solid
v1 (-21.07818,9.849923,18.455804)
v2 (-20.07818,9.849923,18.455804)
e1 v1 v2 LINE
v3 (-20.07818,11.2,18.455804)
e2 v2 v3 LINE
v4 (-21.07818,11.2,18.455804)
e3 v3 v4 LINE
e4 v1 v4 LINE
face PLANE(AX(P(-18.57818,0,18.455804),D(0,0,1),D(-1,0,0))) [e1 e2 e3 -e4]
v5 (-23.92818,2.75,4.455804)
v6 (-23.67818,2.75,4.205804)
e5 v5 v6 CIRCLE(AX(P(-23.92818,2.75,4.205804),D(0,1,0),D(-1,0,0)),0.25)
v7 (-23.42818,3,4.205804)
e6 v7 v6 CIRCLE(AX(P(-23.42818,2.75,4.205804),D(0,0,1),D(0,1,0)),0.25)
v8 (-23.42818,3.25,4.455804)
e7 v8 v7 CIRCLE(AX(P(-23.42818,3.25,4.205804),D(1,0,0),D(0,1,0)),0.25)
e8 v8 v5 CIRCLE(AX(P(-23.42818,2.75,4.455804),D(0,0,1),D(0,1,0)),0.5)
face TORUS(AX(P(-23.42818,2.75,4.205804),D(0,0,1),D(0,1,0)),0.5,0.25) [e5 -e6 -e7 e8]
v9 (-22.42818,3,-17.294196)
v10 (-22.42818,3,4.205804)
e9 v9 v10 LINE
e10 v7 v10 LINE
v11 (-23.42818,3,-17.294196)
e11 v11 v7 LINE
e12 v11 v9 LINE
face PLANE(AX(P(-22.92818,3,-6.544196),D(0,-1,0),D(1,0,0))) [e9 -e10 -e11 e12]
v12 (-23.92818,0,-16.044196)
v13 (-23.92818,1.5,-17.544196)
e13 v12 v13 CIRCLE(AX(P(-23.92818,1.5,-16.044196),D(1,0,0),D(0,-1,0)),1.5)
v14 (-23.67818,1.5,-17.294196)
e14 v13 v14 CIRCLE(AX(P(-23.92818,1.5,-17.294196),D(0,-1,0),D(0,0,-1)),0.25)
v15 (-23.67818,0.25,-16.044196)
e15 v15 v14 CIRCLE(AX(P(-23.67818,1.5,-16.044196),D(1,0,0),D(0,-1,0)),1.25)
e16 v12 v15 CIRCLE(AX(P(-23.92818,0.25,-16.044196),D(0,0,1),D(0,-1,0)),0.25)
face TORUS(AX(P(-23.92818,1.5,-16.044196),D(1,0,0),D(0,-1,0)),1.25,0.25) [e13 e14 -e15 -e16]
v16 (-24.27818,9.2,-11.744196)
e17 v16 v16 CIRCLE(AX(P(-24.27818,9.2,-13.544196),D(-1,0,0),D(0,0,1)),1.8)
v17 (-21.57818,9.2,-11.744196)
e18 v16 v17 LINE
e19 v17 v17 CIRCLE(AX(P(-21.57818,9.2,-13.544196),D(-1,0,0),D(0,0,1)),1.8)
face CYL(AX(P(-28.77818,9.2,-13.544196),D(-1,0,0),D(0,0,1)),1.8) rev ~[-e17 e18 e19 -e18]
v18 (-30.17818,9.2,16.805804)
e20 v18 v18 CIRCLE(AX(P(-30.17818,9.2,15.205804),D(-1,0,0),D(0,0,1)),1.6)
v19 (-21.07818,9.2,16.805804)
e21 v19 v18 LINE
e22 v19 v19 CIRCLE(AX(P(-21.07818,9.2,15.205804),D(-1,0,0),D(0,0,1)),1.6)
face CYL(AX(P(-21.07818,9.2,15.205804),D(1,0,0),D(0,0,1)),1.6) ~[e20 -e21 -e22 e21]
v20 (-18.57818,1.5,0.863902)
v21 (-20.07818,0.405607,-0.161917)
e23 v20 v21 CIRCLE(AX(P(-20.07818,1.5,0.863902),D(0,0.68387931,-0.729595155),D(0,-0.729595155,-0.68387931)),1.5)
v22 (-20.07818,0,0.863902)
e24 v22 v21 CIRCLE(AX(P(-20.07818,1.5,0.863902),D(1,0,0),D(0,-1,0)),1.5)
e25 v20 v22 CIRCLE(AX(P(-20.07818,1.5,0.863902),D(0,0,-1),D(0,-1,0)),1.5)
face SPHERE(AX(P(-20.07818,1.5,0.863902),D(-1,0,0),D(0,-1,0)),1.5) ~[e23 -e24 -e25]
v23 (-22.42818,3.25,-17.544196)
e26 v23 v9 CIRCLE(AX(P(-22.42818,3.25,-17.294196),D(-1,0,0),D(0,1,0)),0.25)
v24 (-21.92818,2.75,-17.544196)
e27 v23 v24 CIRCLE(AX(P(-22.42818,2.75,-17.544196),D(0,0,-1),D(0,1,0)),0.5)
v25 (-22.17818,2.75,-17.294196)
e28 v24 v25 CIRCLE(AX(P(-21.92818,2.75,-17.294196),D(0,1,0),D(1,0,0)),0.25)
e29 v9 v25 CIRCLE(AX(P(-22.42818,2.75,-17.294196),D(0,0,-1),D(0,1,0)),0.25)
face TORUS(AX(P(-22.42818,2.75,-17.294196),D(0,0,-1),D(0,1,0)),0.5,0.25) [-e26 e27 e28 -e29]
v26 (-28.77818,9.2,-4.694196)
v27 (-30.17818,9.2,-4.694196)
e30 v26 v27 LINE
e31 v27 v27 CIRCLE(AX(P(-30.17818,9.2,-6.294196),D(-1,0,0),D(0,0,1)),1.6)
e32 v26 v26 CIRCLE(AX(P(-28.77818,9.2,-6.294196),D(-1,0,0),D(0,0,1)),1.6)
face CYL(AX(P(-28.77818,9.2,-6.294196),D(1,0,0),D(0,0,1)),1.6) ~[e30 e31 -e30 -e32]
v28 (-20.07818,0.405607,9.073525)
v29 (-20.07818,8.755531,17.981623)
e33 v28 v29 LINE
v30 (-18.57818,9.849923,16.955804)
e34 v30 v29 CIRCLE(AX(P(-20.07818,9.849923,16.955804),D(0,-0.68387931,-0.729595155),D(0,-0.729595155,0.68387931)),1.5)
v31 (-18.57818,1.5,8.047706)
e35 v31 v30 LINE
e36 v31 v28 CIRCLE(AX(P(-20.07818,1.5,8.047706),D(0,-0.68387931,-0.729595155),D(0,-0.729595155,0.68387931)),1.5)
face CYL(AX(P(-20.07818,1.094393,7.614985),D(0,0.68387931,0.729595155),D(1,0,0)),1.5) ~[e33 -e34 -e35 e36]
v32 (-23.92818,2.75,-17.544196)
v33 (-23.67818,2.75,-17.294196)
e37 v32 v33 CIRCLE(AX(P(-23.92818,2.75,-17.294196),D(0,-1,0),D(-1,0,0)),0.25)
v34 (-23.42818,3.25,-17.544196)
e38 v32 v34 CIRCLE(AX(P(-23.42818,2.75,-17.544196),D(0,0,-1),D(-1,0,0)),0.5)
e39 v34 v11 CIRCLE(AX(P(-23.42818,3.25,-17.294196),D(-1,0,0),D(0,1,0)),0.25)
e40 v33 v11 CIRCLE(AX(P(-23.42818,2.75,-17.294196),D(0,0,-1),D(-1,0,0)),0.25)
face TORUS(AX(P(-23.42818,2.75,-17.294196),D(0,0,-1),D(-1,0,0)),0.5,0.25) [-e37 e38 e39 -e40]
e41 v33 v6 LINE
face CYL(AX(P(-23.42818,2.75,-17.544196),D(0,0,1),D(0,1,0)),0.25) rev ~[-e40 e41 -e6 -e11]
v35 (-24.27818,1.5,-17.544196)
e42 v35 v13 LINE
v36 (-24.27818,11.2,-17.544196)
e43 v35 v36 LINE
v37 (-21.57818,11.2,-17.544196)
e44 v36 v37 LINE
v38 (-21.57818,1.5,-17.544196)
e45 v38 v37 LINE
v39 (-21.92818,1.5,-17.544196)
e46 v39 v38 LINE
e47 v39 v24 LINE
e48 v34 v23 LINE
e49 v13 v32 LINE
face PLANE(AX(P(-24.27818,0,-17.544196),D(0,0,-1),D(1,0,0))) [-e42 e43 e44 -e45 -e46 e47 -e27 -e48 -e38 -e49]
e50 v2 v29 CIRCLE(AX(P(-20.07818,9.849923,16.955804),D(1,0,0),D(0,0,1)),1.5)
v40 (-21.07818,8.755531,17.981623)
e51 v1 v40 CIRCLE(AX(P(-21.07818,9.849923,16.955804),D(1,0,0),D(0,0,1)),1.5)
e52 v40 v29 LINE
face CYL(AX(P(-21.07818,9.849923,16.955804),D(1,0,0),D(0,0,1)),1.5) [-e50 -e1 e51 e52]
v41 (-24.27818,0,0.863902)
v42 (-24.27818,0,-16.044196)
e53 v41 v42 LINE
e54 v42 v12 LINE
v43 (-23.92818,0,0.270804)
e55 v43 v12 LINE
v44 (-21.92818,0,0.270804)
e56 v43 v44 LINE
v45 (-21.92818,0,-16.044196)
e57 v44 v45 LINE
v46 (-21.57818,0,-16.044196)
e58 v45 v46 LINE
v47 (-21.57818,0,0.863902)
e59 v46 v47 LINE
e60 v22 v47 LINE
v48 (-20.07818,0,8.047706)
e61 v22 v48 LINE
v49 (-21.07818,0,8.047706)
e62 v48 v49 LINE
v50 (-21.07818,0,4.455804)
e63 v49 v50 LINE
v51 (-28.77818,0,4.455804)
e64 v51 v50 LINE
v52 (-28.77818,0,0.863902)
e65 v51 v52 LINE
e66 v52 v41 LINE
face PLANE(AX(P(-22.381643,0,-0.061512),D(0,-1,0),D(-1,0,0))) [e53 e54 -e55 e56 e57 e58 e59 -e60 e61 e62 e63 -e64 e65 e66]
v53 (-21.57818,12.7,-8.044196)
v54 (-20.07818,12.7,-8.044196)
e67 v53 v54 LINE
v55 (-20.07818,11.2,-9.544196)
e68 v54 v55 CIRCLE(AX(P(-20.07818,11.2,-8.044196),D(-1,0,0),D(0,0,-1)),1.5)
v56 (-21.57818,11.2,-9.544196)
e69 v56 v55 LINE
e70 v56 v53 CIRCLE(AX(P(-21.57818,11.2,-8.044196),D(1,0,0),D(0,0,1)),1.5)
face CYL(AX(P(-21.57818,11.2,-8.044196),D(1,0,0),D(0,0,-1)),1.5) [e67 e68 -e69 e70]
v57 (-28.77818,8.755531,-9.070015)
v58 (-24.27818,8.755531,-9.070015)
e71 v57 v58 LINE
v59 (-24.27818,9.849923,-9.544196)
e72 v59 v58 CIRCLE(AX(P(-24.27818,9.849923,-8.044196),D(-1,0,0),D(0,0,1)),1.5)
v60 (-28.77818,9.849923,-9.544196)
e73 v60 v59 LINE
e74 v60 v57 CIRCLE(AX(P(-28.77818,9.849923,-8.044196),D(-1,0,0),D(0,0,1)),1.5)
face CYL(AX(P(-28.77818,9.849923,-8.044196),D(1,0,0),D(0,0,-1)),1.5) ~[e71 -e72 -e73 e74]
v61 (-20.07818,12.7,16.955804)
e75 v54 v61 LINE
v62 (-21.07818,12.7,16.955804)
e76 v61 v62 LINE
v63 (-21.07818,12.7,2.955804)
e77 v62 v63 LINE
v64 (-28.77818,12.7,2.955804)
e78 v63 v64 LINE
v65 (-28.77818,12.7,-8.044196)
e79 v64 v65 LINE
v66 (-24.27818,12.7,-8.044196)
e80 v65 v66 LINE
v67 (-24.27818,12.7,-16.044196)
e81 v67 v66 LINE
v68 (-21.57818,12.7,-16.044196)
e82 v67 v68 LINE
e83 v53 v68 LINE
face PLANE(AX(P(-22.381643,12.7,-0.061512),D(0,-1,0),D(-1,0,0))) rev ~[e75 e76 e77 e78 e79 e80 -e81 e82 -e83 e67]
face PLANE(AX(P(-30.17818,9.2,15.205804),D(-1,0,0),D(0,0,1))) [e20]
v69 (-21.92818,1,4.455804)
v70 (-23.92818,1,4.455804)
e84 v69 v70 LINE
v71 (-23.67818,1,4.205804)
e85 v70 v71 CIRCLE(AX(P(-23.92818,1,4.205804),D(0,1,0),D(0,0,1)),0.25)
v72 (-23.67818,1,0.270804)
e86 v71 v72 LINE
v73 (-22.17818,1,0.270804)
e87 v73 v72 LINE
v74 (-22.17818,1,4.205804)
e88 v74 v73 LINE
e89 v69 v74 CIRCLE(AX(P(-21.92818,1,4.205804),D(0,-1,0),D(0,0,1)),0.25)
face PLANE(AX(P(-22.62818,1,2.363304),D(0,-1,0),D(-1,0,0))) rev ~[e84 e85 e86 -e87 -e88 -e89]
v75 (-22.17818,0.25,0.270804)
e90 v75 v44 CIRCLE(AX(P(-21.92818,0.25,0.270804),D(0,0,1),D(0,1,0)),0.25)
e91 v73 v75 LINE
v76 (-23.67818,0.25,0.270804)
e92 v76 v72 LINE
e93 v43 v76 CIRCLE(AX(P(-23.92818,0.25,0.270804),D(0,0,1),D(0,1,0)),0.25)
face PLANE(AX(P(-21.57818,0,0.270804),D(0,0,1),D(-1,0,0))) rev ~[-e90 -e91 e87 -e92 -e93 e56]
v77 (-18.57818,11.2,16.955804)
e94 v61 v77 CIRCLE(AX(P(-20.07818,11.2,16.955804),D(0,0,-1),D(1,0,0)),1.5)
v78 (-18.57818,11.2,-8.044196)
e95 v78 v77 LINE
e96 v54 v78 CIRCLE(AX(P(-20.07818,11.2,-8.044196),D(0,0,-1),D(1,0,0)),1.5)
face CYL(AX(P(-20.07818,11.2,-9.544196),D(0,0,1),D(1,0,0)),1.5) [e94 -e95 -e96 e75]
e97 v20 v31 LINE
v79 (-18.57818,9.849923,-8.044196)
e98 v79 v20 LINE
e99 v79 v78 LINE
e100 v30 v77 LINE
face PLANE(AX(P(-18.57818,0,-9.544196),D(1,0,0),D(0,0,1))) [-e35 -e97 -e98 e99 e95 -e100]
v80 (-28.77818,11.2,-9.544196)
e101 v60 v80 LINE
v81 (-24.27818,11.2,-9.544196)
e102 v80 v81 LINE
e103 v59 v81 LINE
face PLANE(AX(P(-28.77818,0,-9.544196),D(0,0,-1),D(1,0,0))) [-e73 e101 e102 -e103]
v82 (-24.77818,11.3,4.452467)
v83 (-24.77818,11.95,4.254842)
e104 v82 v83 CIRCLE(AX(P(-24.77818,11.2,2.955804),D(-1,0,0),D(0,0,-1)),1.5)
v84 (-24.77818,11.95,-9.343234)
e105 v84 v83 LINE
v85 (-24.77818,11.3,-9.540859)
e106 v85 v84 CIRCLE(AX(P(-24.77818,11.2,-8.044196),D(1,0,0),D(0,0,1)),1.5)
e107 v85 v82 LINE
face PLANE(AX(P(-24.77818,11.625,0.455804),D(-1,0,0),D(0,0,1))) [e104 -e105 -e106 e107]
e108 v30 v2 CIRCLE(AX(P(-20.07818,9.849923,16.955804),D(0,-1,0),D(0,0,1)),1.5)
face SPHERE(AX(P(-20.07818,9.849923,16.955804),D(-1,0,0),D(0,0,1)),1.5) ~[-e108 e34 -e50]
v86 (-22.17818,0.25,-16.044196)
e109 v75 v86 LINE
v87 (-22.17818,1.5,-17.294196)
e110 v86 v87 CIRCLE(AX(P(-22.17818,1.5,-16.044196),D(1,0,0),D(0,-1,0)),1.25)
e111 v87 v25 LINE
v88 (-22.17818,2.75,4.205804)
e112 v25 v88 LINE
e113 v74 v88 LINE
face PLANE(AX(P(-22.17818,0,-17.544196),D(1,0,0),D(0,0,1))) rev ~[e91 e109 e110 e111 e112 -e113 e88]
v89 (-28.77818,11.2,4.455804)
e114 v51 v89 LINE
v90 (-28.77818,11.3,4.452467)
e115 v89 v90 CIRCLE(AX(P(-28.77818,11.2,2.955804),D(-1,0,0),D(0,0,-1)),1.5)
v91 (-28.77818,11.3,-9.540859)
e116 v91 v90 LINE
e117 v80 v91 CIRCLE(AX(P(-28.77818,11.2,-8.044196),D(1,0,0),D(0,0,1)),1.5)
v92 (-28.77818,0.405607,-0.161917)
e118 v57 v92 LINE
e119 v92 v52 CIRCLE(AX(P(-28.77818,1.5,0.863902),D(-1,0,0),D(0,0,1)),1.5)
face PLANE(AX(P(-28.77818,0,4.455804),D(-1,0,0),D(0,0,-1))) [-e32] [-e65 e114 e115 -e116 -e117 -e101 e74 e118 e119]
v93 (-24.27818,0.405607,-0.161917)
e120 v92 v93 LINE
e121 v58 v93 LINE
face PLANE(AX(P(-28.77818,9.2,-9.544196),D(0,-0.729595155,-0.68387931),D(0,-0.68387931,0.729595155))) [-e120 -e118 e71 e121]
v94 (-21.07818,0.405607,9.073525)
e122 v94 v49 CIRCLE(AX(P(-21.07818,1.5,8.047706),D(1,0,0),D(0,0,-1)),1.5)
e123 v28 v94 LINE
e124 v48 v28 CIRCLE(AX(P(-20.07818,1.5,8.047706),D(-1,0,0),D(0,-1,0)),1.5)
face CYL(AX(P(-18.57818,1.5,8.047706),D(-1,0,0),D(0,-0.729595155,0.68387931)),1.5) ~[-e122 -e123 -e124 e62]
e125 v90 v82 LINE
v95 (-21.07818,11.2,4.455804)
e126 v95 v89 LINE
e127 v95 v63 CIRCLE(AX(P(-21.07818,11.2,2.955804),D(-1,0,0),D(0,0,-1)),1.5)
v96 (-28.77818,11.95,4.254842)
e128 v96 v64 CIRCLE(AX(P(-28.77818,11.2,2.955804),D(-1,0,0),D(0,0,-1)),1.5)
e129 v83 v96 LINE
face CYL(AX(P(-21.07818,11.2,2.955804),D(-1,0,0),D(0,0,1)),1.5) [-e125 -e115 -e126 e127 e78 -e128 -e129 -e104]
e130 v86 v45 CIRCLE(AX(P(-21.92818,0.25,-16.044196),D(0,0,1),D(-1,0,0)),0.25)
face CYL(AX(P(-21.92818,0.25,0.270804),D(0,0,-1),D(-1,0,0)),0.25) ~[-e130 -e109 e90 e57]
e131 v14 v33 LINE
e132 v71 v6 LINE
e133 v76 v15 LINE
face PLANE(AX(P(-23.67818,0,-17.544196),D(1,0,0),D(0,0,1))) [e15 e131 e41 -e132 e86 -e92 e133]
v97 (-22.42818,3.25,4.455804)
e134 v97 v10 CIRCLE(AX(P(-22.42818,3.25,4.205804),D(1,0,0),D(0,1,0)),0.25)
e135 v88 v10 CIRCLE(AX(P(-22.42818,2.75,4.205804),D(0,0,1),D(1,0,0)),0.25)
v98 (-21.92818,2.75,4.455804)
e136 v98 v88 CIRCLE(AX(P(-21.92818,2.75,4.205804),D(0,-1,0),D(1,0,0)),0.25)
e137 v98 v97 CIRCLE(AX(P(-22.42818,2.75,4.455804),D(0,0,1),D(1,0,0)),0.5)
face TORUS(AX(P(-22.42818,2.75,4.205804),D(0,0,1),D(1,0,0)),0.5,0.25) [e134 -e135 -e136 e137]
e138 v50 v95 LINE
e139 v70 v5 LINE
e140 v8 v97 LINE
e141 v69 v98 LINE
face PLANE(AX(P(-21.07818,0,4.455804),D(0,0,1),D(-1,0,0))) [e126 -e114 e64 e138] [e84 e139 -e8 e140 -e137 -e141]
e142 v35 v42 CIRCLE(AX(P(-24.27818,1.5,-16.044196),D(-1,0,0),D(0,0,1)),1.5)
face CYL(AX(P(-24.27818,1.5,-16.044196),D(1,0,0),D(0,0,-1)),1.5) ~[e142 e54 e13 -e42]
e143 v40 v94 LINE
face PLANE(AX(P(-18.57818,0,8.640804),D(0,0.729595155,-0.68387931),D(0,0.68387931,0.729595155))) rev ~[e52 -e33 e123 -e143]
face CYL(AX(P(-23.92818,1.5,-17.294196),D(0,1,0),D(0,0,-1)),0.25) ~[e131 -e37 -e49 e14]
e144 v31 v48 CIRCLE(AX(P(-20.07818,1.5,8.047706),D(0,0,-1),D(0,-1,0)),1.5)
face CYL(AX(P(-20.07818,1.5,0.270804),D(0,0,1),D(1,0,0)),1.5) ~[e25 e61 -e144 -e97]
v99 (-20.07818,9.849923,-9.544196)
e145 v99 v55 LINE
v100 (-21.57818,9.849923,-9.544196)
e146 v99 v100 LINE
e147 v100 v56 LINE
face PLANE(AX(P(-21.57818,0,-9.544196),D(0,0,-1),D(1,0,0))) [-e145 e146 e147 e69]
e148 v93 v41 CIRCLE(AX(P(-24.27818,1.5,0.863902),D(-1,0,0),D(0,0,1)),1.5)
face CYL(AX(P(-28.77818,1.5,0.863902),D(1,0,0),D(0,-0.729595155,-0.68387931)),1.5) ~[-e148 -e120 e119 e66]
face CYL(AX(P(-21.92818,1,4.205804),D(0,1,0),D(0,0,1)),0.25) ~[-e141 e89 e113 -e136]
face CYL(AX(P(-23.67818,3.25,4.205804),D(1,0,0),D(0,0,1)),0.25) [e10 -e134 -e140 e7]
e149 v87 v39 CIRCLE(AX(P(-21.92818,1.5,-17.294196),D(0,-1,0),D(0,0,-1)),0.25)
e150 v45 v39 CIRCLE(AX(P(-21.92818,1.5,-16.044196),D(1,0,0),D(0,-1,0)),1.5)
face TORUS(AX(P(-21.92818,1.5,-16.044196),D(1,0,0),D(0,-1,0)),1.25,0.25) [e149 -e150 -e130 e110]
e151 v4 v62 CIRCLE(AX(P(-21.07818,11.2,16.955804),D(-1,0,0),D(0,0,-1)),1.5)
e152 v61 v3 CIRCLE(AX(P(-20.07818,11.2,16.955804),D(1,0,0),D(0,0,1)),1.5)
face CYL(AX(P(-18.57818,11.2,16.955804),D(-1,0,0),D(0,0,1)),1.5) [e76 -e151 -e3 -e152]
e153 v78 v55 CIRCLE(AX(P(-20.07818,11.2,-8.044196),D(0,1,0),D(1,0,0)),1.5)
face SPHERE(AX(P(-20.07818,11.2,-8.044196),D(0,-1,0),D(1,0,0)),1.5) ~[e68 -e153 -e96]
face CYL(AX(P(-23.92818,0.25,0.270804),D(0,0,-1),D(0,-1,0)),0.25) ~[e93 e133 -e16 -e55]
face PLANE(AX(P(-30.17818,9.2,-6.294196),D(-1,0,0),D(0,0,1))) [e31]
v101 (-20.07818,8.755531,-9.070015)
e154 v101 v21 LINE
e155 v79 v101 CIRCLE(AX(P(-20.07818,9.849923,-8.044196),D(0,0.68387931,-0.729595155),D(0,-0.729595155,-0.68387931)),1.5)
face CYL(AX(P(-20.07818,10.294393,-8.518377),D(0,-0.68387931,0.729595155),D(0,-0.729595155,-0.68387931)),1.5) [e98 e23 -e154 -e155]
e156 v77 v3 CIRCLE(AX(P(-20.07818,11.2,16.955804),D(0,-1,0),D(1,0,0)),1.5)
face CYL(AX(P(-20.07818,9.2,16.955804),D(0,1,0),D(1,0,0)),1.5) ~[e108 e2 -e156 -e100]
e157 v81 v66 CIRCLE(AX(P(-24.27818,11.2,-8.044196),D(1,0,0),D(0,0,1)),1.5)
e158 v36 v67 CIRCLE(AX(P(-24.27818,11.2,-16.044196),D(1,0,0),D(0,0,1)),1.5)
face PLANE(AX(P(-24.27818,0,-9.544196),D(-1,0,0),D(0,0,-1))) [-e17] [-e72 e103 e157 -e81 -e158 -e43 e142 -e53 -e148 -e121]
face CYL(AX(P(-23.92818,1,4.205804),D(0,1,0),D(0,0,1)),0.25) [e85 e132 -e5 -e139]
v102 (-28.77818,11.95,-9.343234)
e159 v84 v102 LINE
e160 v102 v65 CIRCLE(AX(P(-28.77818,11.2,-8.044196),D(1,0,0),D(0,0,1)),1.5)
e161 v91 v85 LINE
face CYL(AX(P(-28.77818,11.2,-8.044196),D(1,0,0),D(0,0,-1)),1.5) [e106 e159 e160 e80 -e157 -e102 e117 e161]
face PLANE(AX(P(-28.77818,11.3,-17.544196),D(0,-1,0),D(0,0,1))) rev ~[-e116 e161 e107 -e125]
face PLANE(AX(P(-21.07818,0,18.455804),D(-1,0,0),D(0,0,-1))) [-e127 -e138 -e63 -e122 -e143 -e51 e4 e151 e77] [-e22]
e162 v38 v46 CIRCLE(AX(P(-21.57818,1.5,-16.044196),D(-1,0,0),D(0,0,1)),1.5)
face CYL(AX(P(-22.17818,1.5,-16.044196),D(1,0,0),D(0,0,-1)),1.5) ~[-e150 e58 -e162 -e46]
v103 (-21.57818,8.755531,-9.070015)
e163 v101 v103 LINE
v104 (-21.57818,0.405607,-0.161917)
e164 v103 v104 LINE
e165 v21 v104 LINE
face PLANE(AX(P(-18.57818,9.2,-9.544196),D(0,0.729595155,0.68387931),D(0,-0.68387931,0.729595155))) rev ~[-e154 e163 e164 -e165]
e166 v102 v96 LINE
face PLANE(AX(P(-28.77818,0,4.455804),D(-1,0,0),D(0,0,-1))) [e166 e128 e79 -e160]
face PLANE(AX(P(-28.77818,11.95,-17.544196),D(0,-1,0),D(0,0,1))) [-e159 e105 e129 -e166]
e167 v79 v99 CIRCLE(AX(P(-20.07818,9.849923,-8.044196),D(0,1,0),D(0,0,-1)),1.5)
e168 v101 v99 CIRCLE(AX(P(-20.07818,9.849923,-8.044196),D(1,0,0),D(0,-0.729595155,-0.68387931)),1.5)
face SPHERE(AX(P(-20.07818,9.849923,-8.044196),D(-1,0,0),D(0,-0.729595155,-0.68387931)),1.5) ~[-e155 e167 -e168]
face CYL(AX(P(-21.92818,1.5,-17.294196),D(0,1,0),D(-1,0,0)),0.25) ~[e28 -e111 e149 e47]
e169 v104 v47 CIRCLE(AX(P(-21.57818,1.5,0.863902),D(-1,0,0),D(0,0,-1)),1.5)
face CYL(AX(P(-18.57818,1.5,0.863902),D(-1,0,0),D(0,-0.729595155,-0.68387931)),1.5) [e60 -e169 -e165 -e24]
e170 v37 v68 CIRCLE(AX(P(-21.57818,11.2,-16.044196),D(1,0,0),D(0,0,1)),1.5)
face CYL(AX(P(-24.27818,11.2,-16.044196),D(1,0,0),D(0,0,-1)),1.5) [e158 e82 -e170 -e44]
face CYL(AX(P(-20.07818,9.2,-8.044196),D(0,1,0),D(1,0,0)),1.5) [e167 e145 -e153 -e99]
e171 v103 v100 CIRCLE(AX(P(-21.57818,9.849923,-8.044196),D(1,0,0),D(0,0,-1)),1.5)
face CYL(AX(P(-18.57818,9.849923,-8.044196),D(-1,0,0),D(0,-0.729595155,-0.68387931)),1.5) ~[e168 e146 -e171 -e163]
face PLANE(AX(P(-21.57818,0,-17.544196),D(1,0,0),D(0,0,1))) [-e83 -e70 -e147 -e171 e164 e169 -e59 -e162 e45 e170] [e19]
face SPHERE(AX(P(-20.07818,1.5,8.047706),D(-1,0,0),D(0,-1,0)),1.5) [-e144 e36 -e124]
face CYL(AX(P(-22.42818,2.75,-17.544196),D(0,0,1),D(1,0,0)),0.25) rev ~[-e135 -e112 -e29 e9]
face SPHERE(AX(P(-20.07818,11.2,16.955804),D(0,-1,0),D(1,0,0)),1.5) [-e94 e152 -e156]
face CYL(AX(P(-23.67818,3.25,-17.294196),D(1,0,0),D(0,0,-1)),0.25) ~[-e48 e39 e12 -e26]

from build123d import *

# Parameters (mm, degrees)
BOSS_EXTRUDE1_DEPTH = 12.7
CUT_EXTRUDE2_DEPTH  = 4.5
CUT_EXTRUDE3_DEPTH  = 11.2
BOSS_EXTRUDE2_START = -7.7
SKETCH2_5_R         = 1.6
BOSS_EXTRUDE2_DEPTH = 9.1
SKETCH2_6_R         = 1.8
CUT_EXTRUDE4_DEPTH  = 11.2
SKETCH2_7_R         = 1.6
BOSS_EXTRUDE3_DEPTH = 1.4
SKETCH2_8_W         = 36
SKETCH2_8_H         = 0.65
CUT_EXTRUDE5_DEPTH  = 4
CUT_EXTRUDE6_DEPTH  = 3
SKETCH4_W           = 1.5
SKETCH4_H           = 22
CUT_EXTRUDE7_DEPTH  = 3
SKETCH6_W           = 2.1
SKETCH6_H           = 4.185
BOSS_EXTRUDE4_DEPTH = 1
CUT_EXTRUDE9_START  = -10.2
CUT_EXTRUDE9_DEPTH  = 4.5
FILLET3_R           = 1.5
FILLET2_R           = 0.25


with BuildPart() as part:
    # Sketch1 → Boss-Extrude1 (new body)
    with BuildSketch(Plane(origin=(0, 0, 0), x_dir=(1, 0, 0), z_dir=(0, 1, 0))):
        Polygon((-28.77817965, 9.54419618), (-24.27817965, 9.54419618), (-24.27817965, 17.54419618), (-21.57817965, 17.54419618), (-21.57817965, 9.54419618), (-18.57817965, 9.54419618), (-18.57817965, -18.45580382), (-21.07817965, -18.45580382), (-21.07817965, -4.45580382), (-28.77817965, -4.45580382), align=None)
    extrude(amount=BOSS_EXTRUDE1_DEPTH)

    # Sketch2 → Cut-Extrude2 (cut)
    with BuildSketch(Plane.ZY.offset(28.77817965)):
        Polygon((-9.54419618, 3.548072024), (-9.54419618, 0), (-3.657330191, 0), align=None)
    extrude(amount=-CUT_EXTRUDE2_DEPTH, mode=Mode.SUBTRACT)

    # Sketch2<4> → Cut-Extrude3 (cut, through all)
    with BuildSketch(Plane.ZY.offset(28.77817965)):
        Polygon((12.124702683, 0), (18.45580382, 0), (18.45580382, 9.2), align=None)
    extrude(amount=-CUT_EXTRUDE3_DEPTH, mode=Mode.SUBTRACT)

    # Sketch2<5> → Boss-Extrude2 (add)
    with BuildSketch(Plane.ZY.offset(28.77817965).offset(BOSS_EXTRUDE2_START)):
        with Locations((15.20580382, 9.2)):
            Circle(SKETCH2_5_R)
    extrude(amount=BOSS_EXTRUDE2_DEPTH)

    # Sketch2<6> → Cut-Extrude4 (cut, through all)
    with BuildSketch(Plane.ZY.offset(28.77817965)):
        with Locations((-13.54419618, 9.2)):
            Circle(SKETCH2_6_R)
    extrude(amount=-CUT_EXTRUDE4_DEPTH, mode=Mode.SUBTRACT)

    # Sketch2<7> → Boss-Extrude3 (add)
    with BuildSketch(Plane.ZY.offset(28.77817965)):
        with Locations((-6.29419618, 9.2)):
            Circle(SKETCH2_7_R)
    extrude(amount=BOSS_EXTRUDE3_DEPTH)

    # Sketch2<8> → Cut-Extrude5 (cut)
    with BuildSketch(Plane.ZY.offset(28.77817965)):
        with Locations((0.45580382, 11.625)):
            Rectangle(SKETCH2_8_W, SKETCH2_8_H)
    extrude(amount=-CUT_EXTRUDE5_DEPTH, mode=Mode.SUBTRACT)

    # Sketch3 → Cut-Extrude6 (cut)
    with BuildSketch(Plane(origin=(-18.57817965, 0, 0), x_dir=(0, 0, -1), z_dir=(1, 0, 0))):
        Polygon((9.54419618, 0), (9.54419618, 9.2), (-0.27080382, 0), align=None)
        Polygon((-12.124702683, 0), (-18.45580382, 9.2), (-18.45580382, 0), align=None)
        Polygon((-8.64080382, 0), (-18.45580382, 9.2), (-12.124702683, 0), align=None)
    extrude(amount=-CUT_EXTRUDE6_DEPTH, mode=Mode.SUBTRACT)

    # Sketch4 → Cut-Extrude7 (cut)
    with BuildSketch(Plane.XZ):
        with Locations((-22.92817965, -6.54419618)):
            Rectangle(SKETCH4_W, SKETCH4_H)
    extrude(amount=-CUT_EXTRUDE7_DEPTH, mode=Mode.SUBTRACT)

    # Sketch6 → Boss-Extrude4 (add)
    with BuildSketch(Plane(origin=(0, 0, 0), x_dir=(-1, 0, 0), z_dir=(0, -1, 0))):
        with Locations((22.62817965, -2.36330382)):
            Rectangle(SKETCH6_W, SKETCH6_H)
    extrude(amount=-BOSS_EXTRUDE4_DEPTH)

    # Sketch3<3> → Cut-Extrude9 (cut)
    with BuildSketch(Plane(origin=(-18.57817965, 0, 0), x_dir=(0, 0, -1), z_dir=(1, 0, 0)).offset(CUT_EXTRUDE9_START)):
        Polygon((9.54419618, 0), (9.54419618, 9.2), (-0.27080382, 0), align=None)
    extrude(amount=CUT_EXTRUDE9_DEPTH, mode=Mode.SUBTRACT)

    # Fillet3
    fillet3_edges = [part.edges().sort_by_distance(p)[0] for p in [
        (-18.57817965, 0, 4.45580382),
        (-18.57817965, 10.95, 18.45580382),
        (-18.57817965, 4.6, 13.54830382),
        (-18.57817965, 4.6, -4.63669618),
        (-18.57817965, 10.95, -9.54419618),
        (-18.57817965, 12.7, 4.45580382),
        (-24.92817965, 12.7, 4.45580382),
        (-19.82817965, 0, 8.64080382),
        (-19.82817965, 9.2, 18.45580382),
        (-19.82817965, 12.7, 18.45580382),
        (-26.52817965, 0, 0.27080382),
        (-20.07817965, 0, 0.27080382),
        (-20.07817965, 9.2, -9.54419618),
        (-20.07817965, 12.7, -9.54419618),
        (-26.52817965, 9.2, -9.54419618),
        (-26.52817965, 12.7, -9.54419618),
        (-21.87817965, 0, -17.54419618),
        (-23.97817965, 0, -17.54419618),
        (-22.92817965, 12.7, -17.54419618),
    ]]
    fillet(fillet3_edges, radius=FILLET3_R)

    # Fillet2
    fillet2_edges = [part.edges().sort_by_distance(p)[0] for p in [
        (-22.17817965, 3, -6.54419618),
        (-22.17817965, 2, 4.45580382),
        (-22.92817965, 3, -17.54419618),
        (-22.17817965, 2.25, -17.54419618),
        (-23.67817965, 3, -6.54419618),
        (-23.67817965, 2.25, -17.54419618),
        (-22.92817965, 3, 4.45580382),
        (-23.67817965, 2, 4.45580382),
        (-23.67817965, 0, -7.88669618),
        (-22.17817965, 0, -7.88669618),
        (-22.17817965, 0.439339828, -17.104856352),
        (-23.67817965, 0.439339828, -17.104856352),
    ]]
    fillet(fillet2_edges, radius=FILLET2_R)


solid = part.part
